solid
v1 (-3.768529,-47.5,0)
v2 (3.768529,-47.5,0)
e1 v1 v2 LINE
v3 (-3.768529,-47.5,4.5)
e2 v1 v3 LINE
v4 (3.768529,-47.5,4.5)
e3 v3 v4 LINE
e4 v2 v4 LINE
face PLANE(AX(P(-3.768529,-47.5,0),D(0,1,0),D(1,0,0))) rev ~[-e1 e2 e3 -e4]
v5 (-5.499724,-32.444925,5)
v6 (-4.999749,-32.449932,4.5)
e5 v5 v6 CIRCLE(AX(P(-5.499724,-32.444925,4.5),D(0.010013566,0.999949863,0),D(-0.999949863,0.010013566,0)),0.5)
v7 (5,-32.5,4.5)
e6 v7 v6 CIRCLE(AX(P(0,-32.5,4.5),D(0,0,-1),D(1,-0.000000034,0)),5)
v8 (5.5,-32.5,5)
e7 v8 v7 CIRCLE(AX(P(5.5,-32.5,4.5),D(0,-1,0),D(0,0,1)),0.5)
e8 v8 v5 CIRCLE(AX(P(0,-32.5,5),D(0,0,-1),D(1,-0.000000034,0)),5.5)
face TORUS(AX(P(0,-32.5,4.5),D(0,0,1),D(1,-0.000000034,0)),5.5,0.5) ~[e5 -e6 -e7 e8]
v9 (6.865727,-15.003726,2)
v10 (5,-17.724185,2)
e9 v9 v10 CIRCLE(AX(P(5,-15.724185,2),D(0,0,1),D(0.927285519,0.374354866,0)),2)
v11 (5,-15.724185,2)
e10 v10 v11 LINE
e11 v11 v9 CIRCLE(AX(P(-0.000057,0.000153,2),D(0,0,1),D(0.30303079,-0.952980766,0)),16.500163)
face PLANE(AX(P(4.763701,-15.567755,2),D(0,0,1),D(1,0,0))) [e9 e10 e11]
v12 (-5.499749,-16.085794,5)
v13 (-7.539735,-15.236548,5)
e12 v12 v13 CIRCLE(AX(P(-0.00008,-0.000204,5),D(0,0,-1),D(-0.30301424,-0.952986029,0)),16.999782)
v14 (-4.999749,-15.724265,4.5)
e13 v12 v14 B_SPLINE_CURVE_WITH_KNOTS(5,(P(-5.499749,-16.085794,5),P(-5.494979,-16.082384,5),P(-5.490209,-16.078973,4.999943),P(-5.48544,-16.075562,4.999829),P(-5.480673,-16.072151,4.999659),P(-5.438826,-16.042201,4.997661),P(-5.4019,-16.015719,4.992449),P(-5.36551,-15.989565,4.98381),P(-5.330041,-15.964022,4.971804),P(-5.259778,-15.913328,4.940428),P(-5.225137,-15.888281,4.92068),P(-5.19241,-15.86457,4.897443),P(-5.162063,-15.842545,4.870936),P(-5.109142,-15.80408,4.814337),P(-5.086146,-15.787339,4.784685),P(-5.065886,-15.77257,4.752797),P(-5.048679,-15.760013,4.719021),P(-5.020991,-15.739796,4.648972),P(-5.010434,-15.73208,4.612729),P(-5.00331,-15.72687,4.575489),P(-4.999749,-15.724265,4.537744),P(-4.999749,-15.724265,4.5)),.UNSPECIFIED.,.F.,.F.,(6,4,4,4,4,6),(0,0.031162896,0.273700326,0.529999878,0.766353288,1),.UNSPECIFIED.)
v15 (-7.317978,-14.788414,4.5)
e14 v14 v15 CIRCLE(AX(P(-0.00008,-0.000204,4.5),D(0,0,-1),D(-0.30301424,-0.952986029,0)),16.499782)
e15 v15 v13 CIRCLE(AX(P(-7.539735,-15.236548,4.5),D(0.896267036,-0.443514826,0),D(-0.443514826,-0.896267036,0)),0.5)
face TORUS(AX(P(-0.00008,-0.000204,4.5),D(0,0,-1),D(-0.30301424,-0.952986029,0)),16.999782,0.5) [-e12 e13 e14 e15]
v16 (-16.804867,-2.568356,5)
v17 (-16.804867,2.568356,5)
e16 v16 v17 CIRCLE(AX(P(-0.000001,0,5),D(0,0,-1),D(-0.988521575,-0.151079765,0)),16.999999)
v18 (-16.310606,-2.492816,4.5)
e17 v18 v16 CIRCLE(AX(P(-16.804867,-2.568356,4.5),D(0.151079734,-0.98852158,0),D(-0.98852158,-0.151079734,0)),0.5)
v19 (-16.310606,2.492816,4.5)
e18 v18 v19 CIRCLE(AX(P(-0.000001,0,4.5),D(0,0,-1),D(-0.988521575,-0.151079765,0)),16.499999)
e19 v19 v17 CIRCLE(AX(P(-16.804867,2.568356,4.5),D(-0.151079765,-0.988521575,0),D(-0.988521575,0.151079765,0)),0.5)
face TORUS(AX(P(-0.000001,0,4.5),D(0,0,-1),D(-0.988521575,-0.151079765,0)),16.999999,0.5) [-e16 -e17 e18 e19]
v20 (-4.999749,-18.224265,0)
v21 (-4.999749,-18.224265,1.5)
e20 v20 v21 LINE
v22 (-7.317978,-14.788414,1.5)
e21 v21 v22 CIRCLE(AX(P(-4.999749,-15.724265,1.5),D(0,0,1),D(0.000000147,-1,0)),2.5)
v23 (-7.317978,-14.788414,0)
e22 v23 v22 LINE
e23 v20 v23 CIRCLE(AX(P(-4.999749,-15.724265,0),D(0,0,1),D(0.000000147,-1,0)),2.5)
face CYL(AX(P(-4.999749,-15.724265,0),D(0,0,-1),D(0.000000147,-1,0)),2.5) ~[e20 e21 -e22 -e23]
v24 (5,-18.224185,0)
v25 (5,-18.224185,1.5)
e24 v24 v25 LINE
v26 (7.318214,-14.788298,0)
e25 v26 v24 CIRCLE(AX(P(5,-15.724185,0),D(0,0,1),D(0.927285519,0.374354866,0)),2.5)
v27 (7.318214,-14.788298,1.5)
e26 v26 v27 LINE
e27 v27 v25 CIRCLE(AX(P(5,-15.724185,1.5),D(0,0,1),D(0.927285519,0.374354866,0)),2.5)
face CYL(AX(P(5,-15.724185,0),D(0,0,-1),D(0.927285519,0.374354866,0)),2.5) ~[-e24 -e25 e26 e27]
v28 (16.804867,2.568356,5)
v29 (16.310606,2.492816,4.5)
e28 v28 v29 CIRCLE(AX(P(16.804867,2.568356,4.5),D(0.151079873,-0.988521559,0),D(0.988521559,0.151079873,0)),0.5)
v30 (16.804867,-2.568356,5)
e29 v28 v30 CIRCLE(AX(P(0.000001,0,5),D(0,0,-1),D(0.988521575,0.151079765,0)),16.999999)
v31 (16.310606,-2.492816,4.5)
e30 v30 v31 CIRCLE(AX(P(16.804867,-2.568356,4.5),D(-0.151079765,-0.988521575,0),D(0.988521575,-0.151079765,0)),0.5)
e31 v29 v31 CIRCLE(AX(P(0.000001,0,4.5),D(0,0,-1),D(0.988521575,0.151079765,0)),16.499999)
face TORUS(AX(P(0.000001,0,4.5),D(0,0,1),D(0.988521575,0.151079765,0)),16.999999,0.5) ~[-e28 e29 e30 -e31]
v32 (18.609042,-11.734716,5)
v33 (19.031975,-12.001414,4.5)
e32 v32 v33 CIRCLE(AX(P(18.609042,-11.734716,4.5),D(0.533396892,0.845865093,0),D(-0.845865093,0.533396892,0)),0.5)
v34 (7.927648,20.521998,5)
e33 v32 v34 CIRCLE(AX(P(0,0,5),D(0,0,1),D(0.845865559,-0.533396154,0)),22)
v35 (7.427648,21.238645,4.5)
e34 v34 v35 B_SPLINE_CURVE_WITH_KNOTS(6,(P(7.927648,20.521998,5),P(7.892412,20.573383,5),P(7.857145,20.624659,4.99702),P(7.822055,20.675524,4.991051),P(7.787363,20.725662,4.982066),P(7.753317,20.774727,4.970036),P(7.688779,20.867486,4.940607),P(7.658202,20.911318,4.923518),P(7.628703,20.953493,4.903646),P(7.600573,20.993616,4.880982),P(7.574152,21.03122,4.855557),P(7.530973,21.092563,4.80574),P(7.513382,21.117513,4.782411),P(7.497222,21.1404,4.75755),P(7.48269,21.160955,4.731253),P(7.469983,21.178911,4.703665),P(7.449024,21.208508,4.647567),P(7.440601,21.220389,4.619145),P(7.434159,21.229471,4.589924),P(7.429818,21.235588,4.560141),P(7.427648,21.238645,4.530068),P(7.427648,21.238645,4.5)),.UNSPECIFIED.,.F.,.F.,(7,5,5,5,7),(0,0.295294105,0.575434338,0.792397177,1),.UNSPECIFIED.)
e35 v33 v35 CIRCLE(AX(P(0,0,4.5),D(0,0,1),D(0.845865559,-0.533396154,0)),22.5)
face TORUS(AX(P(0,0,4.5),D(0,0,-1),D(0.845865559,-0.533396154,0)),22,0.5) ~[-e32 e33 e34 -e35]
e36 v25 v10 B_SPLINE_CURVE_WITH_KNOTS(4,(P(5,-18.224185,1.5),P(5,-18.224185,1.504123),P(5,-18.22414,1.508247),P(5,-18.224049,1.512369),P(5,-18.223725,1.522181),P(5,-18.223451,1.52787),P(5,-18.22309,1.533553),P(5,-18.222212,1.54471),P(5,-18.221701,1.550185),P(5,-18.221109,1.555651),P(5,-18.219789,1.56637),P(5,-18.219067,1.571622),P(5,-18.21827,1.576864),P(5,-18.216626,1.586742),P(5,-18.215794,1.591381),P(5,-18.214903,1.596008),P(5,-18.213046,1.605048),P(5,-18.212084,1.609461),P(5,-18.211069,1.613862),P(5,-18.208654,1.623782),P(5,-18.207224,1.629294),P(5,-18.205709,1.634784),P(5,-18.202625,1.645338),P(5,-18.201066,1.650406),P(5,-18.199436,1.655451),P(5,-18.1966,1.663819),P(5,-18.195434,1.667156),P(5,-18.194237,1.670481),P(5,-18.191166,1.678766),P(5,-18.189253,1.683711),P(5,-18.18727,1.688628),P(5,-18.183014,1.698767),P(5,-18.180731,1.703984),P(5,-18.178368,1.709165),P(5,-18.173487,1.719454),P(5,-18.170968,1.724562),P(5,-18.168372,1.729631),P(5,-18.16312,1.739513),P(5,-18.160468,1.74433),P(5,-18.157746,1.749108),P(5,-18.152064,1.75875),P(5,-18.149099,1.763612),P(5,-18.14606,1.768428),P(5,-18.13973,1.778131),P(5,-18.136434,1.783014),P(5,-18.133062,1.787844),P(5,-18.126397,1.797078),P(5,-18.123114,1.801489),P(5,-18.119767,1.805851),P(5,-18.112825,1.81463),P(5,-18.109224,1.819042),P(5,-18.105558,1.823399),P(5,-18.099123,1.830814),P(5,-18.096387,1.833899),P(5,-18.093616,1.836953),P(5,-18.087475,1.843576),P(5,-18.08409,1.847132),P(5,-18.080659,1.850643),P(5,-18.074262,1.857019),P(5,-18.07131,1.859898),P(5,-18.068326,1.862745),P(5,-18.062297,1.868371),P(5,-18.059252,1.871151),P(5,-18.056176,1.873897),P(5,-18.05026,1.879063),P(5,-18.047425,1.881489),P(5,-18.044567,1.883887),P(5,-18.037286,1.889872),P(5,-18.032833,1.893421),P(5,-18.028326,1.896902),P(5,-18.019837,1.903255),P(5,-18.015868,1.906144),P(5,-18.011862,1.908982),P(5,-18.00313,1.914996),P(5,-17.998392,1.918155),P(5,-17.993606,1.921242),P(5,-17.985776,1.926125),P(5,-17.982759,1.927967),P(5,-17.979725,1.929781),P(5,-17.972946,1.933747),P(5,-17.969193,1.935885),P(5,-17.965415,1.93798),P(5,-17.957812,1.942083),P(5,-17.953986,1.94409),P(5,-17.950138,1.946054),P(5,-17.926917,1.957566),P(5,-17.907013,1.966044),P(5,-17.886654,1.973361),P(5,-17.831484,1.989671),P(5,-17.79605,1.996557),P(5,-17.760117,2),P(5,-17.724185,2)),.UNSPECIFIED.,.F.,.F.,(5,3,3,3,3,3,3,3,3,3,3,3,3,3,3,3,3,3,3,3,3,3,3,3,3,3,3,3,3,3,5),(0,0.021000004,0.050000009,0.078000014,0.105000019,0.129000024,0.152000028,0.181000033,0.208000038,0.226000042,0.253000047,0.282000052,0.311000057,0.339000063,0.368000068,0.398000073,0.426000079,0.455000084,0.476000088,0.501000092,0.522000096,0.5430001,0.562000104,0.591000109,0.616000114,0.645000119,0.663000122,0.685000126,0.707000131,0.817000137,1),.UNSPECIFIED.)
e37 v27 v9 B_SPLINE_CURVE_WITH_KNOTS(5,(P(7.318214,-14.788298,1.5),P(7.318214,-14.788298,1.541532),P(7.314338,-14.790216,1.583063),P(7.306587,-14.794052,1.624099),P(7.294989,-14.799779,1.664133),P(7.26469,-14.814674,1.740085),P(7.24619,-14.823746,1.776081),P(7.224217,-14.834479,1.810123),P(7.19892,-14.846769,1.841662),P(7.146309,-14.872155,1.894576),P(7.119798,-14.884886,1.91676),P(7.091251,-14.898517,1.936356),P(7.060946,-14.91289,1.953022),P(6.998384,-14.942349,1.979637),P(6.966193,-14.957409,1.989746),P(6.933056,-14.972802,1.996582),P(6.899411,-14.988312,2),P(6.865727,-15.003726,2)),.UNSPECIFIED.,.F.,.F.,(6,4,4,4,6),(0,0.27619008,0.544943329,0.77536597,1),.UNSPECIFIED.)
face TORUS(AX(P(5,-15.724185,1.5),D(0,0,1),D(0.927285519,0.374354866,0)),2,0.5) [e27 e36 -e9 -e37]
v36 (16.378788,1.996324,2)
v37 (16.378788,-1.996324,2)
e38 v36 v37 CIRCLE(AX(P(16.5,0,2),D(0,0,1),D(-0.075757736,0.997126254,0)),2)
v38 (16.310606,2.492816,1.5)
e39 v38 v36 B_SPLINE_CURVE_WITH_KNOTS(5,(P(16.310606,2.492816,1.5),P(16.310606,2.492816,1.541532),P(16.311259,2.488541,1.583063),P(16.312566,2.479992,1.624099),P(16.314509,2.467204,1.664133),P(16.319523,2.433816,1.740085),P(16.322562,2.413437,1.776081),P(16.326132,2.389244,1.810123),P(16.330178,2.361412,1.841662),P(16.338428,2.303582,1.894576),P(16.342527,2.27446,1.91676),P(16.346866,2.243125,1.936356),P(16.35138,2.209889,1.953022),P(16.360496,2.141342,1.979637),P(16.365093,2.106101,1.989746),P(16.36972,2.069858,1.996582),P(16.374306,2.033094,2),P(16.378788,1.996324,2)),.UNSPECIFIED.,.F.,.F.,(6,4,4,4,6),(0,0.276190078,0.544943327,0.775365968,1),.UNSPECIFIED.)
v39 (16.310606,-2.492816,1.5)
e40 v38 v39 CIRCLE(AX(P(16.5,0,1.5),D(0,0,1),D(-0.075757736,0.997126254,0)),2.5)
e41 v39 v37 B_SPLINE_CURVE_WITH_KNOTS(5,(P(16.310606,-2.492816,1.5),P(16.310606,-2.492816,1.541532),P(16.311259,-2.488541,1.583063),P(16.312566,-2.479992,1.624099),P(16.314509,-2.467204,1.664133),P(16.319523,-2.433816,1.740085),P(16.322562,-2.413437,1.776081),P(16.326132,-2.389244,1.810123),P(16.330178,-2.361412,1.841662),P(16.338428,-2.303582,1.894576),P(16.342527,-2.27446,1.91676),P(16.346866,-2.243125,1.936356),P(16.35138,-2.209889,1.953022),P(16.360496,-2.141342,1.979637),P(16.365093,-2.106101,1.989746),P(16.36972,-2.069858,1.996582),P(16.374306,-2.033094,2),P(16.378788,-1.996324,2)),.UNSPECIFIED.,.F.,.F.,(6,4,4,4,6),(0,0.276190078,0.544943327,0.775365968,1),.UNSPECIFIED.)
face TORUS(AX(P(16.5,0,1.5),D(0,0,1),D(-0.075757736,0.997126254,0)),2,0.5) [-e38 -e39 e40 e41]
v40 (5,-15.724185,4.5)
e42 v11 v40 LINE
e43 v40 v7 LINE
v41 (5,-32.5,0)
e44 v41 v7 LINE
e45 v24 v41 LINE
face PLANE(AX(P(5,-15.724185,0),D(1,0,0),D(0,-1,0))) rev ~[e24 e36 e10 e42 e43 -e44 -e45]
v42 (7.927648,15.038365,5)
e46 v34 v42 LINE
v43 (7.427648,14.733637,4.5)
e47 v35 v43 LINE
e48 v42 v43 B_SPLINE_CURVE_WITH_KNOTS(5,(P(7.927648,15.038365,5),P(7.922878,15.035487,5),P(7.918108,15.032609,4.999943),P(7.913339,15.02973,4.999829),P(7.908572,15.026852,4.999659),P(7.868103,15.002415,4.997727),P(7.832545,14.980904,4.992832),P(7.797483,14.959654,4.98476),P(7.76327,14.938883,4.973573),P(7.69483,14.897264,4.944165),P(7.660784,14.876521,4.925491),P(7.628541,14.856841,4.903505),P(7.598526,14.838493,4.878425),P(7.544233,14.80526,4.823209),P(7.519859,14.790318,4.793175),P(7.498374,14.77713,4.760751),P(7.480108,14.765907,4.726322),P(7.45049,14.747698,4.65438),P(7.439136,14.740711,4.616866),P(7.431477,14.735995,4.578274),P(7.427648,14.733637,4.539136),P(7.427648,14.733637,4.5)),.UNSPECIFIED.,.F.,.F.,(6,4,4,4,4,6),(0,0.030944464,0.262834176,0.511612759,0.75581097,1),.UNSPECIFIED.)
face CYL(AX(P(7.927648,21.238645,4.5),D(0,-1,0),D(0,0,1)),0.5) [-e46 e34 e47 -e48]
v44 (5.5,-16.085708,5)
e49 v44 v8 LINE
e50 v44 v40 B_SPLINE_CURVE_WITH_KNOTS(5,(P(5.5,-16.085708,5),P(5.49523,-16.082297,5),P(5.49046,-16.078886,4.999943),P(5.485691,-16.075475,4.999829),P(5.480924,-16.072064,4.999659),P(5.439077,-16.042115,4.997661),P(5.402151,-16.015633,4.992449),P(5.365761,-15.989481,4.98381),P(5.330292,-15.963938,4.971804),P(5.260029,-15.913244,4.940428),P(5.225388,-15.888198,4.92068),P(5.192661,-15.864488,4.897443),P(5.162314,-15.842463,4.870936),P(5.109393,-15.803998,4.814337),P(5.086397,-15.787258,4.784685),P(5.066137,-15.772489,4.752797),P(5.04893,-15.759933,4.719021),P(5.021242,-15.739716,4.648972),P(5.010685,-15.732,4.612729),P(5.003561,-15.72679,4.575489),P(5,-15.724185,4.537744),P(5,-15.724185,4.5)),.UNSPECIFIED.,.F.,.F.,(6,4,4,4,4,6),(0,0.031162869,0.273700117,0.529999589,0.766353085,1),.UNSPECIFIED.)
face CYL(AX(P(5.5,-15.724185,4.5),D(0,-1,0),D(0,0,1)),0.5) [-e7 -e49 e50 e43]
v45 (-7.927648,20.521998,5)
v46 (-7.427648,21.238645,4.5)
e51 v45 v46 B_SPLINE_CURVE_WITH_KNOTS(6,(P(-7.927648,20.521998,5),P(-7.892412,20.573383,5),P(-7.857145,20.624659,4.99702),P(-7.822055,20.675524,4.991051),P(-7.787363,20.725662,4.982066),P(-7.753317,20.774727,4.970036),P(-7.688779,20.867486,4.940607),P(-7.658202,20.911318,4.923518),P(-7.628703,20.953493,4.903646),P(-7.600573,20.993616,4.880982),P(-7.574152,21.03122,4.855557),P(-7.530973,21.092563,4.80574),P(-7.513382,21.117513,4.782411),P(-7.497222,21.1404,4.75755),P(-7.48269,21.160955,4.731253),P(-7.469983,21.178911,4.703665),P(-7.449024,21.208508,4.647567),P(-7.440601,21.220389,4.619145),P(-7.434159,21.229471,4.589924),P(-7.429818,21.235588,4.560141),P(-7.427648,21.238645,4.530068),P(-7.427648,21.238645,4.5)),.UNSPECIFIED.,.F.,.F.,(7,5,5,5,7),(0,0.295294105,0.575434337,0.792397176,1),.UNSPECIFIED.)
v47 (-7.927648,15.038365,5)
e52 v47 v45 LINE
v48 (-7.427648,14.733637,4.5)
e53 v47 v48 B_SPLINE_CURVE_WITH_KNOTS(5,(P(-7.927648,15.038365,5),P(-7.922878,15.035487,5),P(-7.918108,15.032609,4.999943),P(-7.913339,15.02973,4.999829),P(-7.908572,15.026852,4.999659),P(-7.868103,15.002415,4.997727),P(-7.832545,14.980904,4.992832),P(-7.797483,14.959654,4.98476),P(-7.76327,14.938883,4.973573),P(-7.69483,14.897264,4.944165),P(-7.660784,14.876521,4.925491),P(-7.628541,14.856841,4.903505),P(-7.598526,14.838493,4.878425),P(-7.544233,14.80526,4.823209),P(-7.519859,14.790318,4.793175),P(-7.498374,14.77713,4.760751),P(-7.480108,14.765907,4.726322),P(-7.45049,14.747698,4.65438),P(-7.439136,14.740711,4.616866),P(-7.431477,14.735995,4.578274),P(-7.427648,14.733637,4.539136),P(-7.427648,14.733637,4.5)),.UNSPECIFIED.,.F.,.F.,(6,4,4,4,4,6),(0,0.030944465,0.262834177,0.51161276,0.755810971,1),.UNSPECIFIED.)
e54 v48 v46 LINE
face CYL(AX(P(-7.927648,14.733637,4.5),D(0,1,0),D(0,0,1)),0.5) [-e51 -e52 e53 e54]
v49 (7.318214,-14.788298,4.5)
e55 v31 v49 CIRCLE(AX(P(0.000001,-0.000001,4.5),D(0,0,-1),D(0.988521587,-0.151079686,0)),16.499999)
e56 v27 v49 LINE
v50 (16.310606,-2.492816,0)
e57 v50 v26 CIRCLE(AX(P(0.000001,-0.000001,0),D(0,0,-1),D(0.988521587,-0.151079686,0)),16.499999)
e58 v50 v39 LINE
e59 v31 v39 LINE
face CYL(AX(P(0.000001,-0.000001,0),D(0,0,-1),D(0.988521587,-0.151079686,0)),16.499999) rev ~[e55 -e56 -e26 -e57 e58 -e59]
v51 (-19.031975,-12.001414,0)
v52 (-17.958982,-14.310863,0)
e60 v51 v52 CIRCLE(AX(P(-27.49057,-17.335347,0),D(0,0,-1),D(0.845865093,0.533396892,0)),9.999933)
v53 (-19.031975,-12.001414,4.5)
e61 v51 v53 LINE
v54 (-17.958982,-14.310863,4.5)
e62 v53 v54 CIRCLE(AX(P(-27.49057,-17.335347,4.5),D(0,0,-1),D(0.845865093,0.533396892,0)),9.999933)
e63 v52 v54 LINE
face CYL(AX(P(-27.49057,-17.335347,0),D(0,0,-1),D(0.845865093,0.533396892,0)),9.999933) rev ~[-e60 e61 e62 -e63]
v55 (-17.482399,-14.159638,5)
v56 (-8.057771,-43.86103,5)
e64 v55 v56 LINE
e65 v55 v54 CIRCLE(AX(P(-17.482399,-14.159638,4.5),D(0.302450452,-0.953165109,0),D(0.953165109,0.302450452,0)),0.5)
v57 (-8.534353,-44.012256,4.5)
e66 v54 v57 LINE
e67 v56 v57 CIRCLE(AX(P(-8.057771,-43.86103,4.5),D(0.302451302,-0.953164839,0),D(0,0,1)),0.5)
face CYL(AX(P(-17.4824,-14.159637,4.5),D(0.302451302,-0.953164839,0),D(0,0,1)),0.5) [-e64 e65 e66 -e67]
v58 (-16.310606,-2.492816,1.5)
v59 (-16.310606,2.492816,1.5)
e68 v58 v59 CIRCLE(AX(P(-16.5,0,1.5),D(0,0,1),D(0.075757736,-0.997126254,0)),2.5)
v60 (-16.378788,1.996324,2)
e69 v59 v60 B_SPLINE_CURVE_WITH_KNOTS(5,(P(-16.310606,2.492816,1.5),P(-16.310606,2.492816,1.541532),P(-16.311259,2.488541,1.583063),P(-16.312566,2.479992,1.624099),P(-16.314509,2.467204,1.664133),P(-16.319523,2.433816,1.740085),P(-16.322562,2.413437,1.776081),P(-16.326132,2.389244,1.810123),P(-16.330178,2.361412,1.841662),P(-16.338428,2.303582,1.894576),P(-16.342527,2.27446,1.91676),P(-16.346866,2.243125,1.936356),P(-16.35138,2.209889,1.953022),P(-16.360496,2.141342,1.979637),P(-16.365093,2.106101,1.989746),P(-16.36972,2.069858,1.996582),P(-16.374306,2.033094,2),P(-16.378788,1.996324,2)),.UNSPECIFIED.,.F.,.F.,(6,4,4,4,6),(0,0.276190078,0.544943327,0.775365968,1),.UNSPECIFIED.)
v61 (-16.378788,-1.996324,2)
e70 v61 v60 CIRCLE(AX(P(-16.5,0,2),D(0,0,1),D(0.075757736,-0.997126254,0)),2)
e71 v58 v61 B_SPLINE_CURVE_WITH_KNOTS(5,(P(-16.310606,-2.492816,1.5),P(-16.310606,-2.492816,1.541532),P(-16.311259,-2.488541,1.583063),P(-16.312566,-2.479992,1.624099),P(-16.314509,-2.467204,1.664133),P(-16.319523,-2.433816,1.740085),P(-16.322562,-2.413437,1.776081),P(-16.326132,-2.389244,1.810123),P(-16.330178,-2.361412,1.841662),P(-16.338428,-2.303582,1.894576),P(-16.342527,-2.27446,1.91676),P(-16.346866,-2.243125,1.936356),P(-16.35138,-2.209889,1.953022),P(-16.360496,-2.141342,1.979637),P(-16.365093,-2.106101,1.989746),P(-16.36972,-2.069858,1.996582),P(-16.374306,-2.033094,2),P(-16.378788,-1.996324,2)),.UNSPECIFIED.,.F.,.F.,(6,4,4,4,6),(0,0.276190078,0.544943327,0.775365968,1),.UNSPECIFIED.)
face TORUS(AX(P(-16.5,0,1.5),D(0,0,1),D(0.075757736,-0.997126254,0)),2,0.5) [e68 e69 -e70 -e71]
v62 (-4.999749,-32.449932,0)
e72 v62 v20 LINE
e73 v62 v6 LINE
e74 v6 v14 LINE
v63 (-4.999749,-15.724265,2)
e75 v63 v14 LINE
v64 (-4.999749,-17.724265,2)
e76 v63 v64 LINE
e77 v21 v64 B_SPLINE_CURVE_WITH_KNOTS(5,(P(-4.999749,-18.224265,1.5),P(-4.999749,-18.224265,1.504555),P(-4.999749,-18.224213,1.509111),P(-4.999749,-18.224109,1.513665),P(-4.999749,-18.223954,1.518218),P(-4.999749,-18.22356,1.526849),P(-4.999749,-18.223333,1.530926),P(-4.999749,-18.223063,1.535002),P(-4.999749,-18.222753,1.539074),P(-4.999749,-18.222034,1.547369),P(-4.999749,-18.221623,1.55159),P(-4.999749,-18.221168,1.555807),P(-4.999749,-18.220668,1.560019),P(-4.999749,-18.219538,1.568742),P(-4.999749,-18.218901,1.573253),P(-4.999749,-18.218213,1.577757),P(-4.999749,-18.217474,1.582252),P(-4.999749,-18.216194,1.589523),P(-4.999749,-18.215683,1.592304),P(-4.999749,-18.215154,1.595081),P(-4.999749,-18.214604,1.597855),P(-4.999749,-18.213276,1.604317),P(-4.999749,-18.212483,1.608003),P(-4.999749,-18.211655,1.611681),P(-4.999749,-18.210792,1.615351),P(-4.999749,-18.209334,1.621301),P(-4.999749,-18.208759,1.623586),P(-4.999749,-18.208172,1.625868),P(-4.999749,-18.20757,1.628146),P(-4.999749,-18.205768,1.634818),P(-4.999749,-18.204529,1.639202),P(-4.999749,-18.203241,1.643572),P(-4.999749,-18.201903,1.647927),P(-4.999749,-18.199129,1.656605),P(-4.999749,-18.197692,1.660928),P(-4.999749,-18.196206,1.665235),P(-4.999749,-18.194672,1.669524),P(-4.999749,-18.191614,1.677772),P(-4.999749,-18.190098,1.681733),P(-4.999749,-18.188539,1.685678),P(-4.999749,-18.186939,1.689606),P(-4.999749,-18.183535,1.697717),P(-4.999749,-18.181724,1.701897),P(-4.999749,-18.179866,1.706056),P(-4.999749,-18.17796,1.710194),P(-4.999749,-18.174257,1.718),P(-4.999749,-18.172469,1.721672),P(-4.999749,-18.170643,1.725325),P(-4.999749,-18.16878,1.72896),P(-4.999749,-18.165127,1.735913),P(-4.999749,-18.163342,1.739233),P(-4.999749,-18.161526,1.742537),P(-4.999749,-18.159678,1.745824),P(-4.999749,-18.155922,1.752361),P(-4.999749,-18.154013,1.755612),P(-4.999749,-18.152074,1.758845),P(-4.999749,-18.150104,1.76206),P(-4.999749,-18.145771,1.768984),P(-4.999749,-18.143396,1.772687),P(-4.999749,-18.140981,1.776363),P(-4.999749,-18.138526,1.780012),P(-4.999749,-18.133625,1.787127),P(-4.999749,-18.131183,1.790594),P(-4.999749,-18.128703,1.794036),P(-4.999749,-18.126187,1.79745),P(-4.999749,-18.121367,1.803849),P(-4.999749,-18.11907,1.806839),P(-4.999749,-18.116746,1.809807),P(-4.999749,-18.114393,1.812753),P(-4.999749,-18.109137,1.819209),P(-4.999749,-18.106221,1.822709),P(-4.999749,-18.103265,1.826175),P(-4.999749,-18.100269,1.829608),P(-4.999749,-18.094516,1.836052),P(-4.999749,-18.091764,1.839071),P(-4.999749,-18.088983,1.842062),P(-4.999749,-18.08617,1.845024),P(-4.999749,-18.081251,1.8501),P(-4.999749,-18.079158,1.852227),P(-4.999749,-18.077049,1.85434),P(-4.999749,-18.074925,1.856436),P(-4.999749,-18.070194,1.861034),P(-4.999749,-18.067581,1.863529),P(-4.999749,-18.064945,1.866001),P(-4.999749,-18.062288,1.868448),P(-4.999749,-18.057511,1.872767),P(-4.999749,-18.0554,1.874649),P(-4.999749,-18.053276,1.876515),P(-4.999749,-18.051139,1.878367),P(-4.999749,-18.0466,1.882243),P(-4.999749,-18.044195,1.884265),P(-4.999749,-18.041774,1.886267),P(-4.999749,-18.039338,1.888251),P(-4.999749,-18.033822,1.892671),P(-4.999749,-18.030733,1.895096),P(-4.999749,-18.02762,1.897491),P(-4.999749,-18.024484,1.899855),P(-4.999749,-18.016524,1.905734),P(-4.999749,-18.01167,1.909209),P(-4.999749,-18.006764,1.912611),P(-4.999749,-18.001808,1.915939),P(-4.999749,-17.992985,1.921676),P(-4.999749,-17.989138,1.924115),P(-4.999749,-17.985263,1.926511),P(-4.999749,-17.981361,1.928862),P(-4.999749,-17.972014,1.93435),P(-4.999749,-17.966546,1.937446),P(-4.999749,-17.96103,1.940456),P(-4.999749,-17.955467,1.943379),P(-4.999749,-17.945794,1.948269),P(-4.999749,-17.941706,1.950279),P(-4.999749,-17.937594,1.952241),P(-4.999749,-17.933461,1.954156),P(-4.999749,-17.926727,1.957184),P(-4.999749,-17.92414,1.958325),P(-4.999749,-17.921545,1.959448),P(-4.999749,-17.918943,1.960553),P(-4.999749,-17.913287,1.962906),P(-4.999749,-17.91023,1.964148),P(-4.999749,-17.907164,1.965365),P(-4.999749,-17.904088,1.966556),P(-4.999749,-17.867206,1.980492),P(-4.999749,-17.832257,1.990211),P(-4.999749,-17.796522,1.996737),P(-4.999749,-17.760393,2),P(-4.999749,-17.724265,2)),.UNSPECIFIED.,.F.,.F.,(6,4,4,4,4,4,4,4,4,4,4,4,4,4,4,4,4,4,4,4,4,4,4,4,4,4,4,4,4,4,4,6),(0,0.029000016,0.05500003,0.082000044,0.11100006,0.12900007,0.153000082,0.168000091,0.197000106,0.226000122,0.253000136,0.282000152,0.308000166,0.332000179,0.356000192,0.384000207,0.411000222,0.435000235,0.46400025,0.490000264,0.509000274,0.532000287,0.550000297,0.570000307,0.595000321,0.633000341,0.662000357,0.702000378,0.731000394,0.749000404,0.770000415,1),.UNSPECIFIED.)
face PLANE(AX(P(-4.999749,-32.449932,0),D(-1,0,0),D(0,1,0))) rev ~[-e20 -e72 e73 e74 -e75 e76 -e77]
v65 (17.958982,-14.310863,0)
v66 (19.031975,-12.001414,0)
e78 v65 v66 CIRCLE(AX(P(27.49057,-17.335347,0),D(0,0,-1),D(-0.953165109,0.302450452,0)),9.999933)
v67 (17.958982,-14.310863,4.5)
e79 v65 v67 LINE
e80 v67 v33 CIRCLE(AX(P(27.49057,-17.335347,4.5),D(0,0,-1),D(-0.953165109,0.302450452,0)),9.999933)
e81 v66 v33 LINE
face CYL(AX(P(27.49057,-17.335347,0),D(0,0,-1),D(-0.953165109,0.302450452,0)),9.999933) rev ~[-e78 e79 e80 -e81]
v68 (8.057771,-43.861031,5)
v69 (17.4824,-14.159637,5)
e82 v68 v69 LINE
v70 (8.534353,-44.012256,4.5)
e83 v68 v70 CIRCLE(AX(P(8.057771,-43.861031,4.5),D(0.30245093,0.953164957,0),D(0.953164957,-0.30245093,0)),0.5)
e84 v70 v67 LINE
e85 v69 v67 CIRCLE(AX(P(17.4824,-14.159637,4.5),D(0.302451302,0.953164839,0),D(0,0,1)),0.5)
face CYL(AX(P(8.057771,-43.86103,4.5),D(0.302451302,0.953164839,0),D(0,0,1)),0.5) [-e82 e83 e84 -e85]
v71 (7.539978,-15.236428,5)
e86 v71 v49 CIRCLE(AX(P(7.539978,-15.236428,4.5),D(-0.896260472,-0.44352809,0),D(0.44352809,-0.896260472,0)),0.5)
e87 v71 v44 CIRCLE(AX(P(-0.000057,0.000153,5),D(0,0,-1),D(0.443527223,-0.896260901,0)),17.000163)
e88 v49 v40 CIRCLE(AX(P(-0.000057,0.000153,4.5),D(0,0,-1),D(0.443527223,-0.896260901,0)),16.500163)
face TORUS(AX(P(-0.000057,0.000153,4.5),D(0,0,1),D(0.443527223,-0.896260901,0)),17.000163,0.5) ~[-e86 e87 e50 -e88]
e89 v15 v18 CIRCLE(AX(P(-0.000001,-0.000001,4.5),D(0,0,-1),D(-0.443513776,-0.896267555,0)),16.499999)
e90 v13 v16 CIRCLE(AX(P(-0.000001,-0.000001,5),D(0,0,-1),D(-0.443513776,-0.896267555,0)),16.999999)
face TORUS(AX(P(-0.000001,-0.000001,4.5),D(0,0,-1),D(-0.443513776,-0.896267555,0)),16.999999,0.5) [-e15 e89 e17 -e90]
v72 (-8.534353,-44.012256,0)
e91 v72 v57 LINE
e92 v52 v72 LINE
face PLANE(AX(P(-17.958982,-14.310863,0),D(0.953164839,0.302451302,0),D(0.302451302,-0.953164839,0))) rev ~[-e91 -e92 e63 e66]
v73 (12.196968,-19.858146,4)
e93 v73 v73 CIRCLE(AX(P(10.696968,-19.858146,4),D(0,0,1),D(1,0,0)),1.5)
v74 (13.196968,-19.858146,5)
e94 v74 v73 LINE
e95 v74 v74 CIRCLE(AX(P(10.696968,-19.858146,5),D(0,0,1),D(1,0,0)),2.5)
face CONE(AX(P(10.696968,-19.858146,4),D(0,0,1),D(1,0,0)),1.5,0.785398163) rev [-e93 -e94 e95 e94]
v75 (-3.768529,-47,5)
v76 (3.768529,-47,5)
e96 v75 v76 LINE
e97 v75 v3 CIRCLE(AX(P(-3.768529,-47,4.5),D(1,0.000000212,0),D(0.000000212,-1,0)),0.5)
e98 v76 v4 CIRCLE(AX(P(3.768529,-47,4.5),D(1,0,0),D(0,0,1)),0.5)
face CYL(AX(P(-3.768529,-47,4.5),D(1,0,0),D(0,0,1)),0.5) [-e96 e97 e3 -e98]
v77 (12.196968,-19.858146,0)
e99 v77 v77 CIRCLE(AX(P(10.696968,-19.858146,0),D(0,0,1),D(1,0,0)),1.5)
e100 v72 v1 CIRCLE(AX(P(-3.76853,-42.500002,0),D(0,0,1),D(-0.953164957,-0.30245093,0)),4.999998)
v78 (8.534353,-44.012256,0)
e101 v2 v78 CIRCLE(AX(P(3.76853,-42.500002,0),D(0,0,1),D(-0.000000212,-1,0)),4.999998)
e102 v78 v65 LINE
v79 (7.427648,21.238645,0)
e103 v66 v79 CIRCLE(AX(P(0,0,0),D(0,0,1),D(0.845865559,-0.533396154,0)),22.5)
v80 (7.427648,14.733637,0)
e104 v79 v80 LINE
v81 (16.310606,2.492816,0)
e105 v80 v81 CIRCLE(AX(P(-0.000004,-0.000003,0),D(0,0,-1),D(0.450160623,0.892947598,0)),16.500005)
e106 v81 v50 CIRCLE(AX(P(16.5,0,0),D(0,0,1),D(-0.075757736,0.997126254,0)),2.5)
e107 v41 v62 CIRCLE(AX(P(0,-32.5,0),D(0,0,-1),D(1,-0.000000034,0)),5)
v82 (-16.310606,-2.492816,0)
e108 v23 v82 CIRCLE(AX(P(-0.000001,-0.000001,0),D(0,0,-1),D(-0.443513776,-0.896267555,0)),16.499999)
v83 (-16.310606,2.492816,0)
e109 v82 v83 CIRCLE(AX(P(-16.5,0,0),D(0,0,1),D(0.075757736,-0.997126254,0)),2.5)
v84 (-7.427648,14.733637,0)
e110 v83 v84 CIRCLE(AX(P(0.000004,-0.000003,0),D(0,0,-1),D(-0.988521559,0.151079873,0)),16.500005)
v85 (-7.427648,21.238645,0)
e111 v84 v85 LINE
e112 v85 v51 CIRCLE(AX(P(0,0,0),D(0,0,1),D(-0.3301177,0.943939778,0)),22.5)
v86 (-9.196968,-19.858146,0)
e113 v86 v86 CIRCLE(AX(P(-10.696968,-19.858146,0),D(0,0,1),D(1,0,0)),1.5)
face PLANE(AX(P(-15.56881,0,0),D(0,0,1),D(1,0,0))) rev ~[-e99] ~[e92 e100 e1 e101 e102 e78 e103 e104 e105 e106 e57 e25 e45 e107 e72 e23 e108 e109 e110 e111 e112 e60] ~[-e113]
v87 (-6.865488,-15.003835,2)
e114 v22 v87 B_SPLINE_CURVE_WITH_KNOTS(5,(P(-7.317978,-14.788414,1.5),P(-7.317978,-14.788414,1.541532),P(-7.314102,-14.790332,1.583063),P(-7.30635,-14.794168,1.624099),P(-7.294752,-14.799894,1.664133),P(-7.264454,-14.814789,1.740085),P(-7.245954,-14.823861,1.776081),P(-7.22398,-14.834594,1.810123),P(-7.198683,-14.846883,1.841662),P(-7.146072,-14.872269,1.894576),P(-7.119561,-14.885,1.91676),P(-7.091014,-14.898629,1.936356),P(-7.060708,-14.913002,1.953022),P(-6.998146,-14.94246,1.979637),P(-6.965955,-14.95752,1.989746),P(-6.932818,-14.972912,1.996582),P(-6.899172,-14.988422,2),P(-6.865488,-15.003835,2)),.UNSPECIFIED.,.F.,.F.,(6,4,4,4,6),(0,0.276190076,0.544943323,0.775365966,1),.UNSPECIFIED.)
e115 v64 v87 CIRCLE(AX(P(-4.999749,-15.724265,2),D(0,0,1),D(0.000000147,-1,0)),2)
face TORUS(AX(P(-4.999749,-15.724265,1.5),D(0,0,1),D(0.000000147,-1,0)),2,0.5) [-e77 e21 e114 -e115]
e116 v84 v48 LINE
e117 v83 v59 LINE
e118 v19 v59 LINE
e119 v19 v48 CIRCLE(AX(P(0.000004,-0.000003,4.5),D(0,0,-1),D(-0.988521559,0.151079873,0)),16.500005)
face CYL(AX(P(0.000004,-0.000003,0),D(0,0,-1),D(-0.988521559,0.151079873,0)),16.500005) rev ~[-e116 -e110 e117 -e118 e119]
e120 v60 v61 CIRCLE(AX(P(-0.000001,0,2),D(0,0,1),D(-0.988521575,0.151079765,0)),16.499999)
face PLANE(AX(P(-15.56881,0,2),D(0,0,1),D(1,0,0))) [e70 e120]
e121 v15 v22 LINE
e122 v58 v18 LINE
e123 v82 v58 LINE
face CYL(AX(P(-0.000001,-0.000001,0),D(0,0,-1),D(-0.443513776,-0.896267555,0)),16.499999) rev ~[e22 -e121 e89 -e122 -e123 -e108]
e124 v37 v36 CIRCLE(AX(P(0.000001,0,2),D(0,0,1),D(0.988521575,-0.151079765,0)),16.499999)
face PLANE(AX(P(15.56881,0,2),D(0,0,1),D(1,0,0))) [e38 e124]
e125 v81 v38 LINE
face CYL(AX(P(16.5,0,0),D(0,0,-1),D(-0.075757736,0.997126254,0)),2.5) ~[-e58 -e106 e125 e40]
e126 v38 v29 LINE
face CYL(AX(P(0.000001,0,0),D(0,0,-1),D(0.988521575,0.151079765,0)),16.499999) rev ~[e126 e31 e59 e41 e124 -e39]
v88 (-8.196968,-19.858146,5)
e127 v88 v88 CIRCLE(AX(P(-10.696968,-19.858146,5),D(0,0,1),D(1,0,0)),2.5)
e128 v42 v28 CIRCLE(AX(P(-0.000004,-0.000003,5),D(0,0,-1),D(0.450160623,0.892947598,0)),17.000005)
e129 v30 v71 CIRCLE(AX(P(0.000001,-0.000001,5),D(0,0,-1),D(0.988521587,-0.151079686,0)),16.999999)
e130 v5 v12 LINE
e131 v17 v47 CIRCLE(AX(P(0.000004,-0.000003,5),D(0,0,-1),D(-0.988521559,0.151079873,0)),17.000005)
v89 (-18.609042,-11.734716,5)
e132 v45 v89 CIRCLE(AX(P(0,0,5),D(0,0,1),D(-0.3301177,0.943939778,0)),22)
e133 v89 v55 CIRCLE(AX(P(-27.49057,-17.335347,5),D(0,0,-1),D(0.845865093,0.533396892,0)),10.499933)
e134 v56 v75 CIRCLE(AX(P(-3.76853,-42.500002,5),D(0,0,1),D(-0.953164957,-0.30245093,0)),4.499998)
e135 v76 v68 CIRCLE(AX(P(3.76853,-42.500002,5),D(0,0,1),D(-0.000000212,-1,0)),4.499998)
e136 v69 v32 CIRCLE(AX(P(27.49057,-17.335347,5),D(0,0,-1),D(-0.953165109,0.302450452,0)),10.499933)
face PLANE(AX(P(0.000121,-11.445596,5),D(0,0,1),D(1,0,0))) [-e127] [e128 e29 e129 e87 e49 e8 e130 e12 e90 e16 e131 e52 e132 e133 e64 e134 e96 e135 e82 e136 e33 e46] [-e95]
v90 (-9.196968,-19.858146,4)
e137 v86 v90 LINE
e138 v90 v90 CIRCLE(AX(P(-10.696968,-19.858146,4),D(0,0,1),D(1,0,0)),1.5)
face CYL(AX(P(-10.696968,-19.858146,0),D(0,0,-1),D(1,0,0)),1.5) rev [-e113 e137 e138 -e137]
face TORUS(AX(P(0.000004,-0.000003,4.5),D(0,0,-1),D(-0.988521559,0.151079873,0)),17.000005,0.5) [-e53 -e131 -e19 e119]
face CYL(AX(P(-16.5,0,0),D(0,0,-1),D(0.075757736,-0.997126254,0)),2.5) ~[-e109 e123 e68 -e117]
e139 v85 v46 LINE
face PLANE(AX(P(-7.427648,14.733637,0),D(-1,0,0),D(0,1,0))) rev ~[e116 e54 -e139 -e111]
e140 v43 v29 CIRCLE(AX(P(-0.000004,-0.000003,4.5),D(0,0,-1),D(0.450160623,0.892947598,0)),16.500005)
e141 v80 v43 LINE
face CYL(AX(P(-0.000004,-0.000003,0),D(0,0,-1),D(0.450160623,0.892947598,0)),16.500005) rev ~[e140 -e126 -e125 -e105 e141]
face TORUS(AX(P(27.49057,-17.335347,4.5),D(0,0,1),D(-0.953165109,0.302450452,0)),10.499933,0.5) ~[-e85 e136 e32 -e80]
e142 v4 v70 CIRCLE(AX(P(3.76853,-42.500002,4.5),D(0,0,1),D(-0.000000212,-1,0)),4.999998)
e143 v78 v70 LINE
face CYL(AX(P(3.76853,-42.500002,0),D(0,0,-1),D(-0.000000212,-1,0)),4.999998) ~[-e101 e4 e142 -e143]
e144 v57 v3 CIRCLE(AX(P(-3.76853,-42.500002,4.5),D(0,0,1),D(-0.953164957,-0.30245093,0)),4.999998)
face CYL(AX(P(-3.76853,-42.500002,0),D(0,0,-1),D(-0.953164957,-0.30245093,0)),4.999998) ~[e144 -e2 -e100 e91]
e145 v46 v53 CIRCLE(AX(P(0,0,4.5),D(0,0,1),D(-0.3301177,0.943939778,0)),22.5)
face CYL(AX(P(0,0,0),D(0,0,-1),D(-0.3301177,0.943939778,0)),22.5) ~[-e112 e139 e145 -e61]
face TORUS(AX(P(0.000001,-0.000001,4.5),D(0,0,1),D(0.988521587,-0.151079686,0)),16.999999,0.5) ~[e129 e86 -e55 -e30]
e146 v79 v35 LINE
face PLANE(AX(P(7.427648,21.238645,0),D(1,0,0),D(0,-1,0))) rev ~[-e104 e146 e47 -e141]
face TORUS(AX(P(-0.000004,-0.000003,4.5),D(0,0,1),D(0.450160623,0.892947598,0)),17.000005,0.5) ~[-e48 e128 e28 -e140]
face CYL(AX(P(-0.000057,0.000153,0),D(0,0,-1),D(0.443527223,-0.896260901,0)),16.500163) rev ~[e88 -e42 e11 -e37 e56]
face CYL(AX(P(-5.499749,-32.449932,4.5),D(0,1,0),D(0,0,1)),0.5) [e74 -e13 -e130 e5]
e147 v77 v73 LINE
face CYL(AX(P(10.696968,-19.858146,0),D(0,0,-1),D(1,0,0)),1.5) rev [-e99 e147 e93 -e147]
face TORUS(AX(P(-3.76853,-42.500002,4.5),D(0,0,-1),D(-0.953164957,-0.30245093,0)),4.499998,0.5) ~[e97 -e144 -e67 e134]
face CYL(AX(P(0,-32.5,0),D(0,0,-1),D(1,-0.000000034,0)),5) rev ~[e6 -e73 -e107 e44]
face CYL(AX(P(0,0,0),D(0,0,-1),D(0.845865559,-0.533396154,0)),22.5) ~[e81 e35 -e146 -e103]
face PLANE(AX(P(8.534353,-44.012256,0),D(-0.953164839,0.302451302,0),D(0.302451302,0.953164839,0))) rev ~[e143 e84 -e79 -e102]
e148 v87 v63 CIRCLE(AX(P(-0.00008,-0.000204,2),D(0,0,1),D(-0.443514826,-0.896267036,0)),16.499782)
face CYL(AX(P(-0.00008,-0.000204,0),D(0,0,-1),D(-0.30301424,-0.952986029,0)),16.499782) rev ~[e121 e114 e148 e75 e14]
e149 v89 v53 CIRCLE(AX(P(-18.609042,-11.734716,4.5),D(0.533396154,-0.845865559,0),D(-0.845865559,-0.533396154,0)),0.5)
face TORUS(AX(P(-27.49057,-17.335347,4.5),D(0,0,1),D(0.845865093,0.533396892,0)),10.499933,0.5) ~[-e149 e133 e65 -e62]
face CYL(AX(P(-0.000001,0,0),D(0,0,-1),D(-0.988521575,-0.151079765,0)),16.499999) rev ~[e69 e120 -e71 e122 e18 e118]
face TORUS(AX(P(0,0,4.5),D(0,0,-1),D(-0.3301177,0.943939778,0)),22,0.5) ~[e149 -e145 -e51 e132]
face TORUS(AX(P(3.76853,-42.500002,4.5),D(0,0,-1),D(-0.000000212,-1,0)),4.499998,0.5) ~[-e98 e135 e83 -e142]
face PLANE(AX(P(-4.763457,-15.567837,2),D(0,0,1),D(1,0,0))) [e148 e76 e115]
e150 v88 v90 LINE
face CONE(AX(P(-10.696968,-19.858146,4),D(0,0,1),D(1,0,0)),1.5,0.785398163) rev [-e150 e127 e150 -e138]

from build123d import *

# Parameters (mm, degrees)
F0_R     = 1.5
F1_DEPTH = 5
F2_DEPTH = 2
F3_R     = 0.5
F4_SIZE  = 1


with BuildPart() as f1:
    # F0 (on Top) → F1 (new body)
    with BuildSketch(Plane.XY):
        with BuildLine():
            ThreePointArc((-16.310606, 2.492816), (-13.354235, 9.690944), (-7.427648, 14.733637))
            Line((-7.427648, 14.733637), (-7.427648, 21.238645))
            ThreePointArc((-7.427648, 21.238645), (-21.242723, 7.415977), (-19.031975, -12.001414))
            ThreePointArc((-19.031975, -12.001414), (-18.421664, -13.121843), (-17.958982, -14.310863))
            Line((-17.958982, -14.310863), (-8.534353, -44.012256))
            ThreePointArc((-8.534353, -44.012256), (-6.721385, -46.534928), (-3.768529, -47.5))
            Line((-3.768529, -47.5), (3.768529, -47.5))
            ThreePointArc((3.768529, -47.5), (6.721385, -46.534928), (8.534353, -44.012256))
            Line((8.534353, -44.012256), (17.958982, -14.310863))
            ThreePointArc((17.958982, -14.310863), (18.421664, -13.121843), (19.031975, -12.001414))
            ThreePointArc((19.031975, -12.001414), (21.242723, 7.415977), (7.427648, 21.238645))
            Line((7.427648, 21.238645), (7.427648, 14.733637))
            ThreePointArc((7.427648, 14.733637), (13.354235, 9.690944), (16.310606, 2.492816))
            ThreePointArc((16.310606, 2.492816), (16.5, 0), (16.310606, -2.492816))
            ThreePointArc((16.310606, -2.492816), (13.318221, -9.74038), (7.318214, -14.788298))
            ThreePointArc((7.318214, -14.788298), (6.176857, -15.30021), (5, -15.724185))
            Line((5, -15.724185), (5, -18.224185))
            Line((5, -18.224185), (5, -32.5))
            ThreePointArc((5, -32.5), (-0.025034, -37.499937), (-4.999749, -32.449932))
            Line((-4.999749, -32.449932), (-4.999749, -18.224265))
            Line((-4.999749, -18.224265), (-4.999749, -15.724265))
            ThreePointArc((-4.999749, -15.724265), (-6.176614, -15.300309), (-7.317978, -14.788414))
            ThreePointArc((-7.317978, -14.788414), (-13.318143, -9.740486), (-16.310606, -2.492816))
            ThreePointArc((-16.310606, -2.492816), (-16.5, 0), (-16.310606, 2.492816))
        make_face()
        with Locations((-10.696968, -19.858146)):
            Circle(F0_R, mode=Mode.SUBTRACT)
        with Locations((10.696968, -19.858146)):
            Circle(F0_R, mode=Mode.SUBTRACT)
    extrude(amount=F1_DEPTH)

    # F0 (on Top) → F2 (join)
    with BuildSketch(Plane.XY):
        with BuildLine():
            ThreePointArc((-16.310606, -2.492816), (-14, 0), (-16.310606, 2.492816))
            ThreePointArc((-16.310606, 2.492816), (-16.5, 0), (-16.310606, -2.492816))
        make_face()
        with BuildLine():
            ThreePointArc((16.310606, 2.492816), (14, 0), (16.310606, -2.492816))
            ThreePointArc((16.310606, -2.492816), (16.5, 0), (16.310606, 2.492816))
        make_face()
        with BuildLine():
            ThreePointArc((-4.999749, -18.224265), (-2.927356, -14.325985), (-7.317978, -14.788414))
            ThreePointArc((-7.317978, -14.788414), (-6.176614, -15.300309), (-4.999749, -15.724265))
            Line((-4.999749, -15.724265), (-4.999749, -18.224265))
        make_face()
        with BuildLine():
            ThreePointArc((7.318214, -14.788298), (2.927596, -14.325922), (5, -18.224185))
            Line((5, -18.224185), (5, -15.724185))
            ThreePointArc((5, -15.724185), (6.176857, -15.30021), (7.318214, -14.788298))
        make_face()
    extrude(amount=F2_DEPTH)

    # F3
    f3_edges = [f1.edges().sort_by_distance(p)[0] for p in [
        (-21.242723, 7.415977, 5),
        (-4.999749, -24.087098, 5),
        (5, -24.112093, 5),
        (-14, 0, 2),
        (14, 0, 2),
        (-7.427648, 17.986141, 5),
        (7.427648, 17.986141, 5),
        (-2.927356, -14.325985, 2),
        (2.927596, -14.325922, 2),
        (-16.447826, -1.31111, 5),
        (16.447837, -1.310979, 5),
    ]]
    fillet(f3_edges, radius=F3_R)

    # F4
    f4_edges = [f1.edges().sort_by_distance(p)[0] for p in [
        (-12.196968, -19.858146, 5),
        (9.196968, -19.858146, 5),
    ]]
    chamfer(f4_edges, length=F4_SIZE)


solid = f1.part
